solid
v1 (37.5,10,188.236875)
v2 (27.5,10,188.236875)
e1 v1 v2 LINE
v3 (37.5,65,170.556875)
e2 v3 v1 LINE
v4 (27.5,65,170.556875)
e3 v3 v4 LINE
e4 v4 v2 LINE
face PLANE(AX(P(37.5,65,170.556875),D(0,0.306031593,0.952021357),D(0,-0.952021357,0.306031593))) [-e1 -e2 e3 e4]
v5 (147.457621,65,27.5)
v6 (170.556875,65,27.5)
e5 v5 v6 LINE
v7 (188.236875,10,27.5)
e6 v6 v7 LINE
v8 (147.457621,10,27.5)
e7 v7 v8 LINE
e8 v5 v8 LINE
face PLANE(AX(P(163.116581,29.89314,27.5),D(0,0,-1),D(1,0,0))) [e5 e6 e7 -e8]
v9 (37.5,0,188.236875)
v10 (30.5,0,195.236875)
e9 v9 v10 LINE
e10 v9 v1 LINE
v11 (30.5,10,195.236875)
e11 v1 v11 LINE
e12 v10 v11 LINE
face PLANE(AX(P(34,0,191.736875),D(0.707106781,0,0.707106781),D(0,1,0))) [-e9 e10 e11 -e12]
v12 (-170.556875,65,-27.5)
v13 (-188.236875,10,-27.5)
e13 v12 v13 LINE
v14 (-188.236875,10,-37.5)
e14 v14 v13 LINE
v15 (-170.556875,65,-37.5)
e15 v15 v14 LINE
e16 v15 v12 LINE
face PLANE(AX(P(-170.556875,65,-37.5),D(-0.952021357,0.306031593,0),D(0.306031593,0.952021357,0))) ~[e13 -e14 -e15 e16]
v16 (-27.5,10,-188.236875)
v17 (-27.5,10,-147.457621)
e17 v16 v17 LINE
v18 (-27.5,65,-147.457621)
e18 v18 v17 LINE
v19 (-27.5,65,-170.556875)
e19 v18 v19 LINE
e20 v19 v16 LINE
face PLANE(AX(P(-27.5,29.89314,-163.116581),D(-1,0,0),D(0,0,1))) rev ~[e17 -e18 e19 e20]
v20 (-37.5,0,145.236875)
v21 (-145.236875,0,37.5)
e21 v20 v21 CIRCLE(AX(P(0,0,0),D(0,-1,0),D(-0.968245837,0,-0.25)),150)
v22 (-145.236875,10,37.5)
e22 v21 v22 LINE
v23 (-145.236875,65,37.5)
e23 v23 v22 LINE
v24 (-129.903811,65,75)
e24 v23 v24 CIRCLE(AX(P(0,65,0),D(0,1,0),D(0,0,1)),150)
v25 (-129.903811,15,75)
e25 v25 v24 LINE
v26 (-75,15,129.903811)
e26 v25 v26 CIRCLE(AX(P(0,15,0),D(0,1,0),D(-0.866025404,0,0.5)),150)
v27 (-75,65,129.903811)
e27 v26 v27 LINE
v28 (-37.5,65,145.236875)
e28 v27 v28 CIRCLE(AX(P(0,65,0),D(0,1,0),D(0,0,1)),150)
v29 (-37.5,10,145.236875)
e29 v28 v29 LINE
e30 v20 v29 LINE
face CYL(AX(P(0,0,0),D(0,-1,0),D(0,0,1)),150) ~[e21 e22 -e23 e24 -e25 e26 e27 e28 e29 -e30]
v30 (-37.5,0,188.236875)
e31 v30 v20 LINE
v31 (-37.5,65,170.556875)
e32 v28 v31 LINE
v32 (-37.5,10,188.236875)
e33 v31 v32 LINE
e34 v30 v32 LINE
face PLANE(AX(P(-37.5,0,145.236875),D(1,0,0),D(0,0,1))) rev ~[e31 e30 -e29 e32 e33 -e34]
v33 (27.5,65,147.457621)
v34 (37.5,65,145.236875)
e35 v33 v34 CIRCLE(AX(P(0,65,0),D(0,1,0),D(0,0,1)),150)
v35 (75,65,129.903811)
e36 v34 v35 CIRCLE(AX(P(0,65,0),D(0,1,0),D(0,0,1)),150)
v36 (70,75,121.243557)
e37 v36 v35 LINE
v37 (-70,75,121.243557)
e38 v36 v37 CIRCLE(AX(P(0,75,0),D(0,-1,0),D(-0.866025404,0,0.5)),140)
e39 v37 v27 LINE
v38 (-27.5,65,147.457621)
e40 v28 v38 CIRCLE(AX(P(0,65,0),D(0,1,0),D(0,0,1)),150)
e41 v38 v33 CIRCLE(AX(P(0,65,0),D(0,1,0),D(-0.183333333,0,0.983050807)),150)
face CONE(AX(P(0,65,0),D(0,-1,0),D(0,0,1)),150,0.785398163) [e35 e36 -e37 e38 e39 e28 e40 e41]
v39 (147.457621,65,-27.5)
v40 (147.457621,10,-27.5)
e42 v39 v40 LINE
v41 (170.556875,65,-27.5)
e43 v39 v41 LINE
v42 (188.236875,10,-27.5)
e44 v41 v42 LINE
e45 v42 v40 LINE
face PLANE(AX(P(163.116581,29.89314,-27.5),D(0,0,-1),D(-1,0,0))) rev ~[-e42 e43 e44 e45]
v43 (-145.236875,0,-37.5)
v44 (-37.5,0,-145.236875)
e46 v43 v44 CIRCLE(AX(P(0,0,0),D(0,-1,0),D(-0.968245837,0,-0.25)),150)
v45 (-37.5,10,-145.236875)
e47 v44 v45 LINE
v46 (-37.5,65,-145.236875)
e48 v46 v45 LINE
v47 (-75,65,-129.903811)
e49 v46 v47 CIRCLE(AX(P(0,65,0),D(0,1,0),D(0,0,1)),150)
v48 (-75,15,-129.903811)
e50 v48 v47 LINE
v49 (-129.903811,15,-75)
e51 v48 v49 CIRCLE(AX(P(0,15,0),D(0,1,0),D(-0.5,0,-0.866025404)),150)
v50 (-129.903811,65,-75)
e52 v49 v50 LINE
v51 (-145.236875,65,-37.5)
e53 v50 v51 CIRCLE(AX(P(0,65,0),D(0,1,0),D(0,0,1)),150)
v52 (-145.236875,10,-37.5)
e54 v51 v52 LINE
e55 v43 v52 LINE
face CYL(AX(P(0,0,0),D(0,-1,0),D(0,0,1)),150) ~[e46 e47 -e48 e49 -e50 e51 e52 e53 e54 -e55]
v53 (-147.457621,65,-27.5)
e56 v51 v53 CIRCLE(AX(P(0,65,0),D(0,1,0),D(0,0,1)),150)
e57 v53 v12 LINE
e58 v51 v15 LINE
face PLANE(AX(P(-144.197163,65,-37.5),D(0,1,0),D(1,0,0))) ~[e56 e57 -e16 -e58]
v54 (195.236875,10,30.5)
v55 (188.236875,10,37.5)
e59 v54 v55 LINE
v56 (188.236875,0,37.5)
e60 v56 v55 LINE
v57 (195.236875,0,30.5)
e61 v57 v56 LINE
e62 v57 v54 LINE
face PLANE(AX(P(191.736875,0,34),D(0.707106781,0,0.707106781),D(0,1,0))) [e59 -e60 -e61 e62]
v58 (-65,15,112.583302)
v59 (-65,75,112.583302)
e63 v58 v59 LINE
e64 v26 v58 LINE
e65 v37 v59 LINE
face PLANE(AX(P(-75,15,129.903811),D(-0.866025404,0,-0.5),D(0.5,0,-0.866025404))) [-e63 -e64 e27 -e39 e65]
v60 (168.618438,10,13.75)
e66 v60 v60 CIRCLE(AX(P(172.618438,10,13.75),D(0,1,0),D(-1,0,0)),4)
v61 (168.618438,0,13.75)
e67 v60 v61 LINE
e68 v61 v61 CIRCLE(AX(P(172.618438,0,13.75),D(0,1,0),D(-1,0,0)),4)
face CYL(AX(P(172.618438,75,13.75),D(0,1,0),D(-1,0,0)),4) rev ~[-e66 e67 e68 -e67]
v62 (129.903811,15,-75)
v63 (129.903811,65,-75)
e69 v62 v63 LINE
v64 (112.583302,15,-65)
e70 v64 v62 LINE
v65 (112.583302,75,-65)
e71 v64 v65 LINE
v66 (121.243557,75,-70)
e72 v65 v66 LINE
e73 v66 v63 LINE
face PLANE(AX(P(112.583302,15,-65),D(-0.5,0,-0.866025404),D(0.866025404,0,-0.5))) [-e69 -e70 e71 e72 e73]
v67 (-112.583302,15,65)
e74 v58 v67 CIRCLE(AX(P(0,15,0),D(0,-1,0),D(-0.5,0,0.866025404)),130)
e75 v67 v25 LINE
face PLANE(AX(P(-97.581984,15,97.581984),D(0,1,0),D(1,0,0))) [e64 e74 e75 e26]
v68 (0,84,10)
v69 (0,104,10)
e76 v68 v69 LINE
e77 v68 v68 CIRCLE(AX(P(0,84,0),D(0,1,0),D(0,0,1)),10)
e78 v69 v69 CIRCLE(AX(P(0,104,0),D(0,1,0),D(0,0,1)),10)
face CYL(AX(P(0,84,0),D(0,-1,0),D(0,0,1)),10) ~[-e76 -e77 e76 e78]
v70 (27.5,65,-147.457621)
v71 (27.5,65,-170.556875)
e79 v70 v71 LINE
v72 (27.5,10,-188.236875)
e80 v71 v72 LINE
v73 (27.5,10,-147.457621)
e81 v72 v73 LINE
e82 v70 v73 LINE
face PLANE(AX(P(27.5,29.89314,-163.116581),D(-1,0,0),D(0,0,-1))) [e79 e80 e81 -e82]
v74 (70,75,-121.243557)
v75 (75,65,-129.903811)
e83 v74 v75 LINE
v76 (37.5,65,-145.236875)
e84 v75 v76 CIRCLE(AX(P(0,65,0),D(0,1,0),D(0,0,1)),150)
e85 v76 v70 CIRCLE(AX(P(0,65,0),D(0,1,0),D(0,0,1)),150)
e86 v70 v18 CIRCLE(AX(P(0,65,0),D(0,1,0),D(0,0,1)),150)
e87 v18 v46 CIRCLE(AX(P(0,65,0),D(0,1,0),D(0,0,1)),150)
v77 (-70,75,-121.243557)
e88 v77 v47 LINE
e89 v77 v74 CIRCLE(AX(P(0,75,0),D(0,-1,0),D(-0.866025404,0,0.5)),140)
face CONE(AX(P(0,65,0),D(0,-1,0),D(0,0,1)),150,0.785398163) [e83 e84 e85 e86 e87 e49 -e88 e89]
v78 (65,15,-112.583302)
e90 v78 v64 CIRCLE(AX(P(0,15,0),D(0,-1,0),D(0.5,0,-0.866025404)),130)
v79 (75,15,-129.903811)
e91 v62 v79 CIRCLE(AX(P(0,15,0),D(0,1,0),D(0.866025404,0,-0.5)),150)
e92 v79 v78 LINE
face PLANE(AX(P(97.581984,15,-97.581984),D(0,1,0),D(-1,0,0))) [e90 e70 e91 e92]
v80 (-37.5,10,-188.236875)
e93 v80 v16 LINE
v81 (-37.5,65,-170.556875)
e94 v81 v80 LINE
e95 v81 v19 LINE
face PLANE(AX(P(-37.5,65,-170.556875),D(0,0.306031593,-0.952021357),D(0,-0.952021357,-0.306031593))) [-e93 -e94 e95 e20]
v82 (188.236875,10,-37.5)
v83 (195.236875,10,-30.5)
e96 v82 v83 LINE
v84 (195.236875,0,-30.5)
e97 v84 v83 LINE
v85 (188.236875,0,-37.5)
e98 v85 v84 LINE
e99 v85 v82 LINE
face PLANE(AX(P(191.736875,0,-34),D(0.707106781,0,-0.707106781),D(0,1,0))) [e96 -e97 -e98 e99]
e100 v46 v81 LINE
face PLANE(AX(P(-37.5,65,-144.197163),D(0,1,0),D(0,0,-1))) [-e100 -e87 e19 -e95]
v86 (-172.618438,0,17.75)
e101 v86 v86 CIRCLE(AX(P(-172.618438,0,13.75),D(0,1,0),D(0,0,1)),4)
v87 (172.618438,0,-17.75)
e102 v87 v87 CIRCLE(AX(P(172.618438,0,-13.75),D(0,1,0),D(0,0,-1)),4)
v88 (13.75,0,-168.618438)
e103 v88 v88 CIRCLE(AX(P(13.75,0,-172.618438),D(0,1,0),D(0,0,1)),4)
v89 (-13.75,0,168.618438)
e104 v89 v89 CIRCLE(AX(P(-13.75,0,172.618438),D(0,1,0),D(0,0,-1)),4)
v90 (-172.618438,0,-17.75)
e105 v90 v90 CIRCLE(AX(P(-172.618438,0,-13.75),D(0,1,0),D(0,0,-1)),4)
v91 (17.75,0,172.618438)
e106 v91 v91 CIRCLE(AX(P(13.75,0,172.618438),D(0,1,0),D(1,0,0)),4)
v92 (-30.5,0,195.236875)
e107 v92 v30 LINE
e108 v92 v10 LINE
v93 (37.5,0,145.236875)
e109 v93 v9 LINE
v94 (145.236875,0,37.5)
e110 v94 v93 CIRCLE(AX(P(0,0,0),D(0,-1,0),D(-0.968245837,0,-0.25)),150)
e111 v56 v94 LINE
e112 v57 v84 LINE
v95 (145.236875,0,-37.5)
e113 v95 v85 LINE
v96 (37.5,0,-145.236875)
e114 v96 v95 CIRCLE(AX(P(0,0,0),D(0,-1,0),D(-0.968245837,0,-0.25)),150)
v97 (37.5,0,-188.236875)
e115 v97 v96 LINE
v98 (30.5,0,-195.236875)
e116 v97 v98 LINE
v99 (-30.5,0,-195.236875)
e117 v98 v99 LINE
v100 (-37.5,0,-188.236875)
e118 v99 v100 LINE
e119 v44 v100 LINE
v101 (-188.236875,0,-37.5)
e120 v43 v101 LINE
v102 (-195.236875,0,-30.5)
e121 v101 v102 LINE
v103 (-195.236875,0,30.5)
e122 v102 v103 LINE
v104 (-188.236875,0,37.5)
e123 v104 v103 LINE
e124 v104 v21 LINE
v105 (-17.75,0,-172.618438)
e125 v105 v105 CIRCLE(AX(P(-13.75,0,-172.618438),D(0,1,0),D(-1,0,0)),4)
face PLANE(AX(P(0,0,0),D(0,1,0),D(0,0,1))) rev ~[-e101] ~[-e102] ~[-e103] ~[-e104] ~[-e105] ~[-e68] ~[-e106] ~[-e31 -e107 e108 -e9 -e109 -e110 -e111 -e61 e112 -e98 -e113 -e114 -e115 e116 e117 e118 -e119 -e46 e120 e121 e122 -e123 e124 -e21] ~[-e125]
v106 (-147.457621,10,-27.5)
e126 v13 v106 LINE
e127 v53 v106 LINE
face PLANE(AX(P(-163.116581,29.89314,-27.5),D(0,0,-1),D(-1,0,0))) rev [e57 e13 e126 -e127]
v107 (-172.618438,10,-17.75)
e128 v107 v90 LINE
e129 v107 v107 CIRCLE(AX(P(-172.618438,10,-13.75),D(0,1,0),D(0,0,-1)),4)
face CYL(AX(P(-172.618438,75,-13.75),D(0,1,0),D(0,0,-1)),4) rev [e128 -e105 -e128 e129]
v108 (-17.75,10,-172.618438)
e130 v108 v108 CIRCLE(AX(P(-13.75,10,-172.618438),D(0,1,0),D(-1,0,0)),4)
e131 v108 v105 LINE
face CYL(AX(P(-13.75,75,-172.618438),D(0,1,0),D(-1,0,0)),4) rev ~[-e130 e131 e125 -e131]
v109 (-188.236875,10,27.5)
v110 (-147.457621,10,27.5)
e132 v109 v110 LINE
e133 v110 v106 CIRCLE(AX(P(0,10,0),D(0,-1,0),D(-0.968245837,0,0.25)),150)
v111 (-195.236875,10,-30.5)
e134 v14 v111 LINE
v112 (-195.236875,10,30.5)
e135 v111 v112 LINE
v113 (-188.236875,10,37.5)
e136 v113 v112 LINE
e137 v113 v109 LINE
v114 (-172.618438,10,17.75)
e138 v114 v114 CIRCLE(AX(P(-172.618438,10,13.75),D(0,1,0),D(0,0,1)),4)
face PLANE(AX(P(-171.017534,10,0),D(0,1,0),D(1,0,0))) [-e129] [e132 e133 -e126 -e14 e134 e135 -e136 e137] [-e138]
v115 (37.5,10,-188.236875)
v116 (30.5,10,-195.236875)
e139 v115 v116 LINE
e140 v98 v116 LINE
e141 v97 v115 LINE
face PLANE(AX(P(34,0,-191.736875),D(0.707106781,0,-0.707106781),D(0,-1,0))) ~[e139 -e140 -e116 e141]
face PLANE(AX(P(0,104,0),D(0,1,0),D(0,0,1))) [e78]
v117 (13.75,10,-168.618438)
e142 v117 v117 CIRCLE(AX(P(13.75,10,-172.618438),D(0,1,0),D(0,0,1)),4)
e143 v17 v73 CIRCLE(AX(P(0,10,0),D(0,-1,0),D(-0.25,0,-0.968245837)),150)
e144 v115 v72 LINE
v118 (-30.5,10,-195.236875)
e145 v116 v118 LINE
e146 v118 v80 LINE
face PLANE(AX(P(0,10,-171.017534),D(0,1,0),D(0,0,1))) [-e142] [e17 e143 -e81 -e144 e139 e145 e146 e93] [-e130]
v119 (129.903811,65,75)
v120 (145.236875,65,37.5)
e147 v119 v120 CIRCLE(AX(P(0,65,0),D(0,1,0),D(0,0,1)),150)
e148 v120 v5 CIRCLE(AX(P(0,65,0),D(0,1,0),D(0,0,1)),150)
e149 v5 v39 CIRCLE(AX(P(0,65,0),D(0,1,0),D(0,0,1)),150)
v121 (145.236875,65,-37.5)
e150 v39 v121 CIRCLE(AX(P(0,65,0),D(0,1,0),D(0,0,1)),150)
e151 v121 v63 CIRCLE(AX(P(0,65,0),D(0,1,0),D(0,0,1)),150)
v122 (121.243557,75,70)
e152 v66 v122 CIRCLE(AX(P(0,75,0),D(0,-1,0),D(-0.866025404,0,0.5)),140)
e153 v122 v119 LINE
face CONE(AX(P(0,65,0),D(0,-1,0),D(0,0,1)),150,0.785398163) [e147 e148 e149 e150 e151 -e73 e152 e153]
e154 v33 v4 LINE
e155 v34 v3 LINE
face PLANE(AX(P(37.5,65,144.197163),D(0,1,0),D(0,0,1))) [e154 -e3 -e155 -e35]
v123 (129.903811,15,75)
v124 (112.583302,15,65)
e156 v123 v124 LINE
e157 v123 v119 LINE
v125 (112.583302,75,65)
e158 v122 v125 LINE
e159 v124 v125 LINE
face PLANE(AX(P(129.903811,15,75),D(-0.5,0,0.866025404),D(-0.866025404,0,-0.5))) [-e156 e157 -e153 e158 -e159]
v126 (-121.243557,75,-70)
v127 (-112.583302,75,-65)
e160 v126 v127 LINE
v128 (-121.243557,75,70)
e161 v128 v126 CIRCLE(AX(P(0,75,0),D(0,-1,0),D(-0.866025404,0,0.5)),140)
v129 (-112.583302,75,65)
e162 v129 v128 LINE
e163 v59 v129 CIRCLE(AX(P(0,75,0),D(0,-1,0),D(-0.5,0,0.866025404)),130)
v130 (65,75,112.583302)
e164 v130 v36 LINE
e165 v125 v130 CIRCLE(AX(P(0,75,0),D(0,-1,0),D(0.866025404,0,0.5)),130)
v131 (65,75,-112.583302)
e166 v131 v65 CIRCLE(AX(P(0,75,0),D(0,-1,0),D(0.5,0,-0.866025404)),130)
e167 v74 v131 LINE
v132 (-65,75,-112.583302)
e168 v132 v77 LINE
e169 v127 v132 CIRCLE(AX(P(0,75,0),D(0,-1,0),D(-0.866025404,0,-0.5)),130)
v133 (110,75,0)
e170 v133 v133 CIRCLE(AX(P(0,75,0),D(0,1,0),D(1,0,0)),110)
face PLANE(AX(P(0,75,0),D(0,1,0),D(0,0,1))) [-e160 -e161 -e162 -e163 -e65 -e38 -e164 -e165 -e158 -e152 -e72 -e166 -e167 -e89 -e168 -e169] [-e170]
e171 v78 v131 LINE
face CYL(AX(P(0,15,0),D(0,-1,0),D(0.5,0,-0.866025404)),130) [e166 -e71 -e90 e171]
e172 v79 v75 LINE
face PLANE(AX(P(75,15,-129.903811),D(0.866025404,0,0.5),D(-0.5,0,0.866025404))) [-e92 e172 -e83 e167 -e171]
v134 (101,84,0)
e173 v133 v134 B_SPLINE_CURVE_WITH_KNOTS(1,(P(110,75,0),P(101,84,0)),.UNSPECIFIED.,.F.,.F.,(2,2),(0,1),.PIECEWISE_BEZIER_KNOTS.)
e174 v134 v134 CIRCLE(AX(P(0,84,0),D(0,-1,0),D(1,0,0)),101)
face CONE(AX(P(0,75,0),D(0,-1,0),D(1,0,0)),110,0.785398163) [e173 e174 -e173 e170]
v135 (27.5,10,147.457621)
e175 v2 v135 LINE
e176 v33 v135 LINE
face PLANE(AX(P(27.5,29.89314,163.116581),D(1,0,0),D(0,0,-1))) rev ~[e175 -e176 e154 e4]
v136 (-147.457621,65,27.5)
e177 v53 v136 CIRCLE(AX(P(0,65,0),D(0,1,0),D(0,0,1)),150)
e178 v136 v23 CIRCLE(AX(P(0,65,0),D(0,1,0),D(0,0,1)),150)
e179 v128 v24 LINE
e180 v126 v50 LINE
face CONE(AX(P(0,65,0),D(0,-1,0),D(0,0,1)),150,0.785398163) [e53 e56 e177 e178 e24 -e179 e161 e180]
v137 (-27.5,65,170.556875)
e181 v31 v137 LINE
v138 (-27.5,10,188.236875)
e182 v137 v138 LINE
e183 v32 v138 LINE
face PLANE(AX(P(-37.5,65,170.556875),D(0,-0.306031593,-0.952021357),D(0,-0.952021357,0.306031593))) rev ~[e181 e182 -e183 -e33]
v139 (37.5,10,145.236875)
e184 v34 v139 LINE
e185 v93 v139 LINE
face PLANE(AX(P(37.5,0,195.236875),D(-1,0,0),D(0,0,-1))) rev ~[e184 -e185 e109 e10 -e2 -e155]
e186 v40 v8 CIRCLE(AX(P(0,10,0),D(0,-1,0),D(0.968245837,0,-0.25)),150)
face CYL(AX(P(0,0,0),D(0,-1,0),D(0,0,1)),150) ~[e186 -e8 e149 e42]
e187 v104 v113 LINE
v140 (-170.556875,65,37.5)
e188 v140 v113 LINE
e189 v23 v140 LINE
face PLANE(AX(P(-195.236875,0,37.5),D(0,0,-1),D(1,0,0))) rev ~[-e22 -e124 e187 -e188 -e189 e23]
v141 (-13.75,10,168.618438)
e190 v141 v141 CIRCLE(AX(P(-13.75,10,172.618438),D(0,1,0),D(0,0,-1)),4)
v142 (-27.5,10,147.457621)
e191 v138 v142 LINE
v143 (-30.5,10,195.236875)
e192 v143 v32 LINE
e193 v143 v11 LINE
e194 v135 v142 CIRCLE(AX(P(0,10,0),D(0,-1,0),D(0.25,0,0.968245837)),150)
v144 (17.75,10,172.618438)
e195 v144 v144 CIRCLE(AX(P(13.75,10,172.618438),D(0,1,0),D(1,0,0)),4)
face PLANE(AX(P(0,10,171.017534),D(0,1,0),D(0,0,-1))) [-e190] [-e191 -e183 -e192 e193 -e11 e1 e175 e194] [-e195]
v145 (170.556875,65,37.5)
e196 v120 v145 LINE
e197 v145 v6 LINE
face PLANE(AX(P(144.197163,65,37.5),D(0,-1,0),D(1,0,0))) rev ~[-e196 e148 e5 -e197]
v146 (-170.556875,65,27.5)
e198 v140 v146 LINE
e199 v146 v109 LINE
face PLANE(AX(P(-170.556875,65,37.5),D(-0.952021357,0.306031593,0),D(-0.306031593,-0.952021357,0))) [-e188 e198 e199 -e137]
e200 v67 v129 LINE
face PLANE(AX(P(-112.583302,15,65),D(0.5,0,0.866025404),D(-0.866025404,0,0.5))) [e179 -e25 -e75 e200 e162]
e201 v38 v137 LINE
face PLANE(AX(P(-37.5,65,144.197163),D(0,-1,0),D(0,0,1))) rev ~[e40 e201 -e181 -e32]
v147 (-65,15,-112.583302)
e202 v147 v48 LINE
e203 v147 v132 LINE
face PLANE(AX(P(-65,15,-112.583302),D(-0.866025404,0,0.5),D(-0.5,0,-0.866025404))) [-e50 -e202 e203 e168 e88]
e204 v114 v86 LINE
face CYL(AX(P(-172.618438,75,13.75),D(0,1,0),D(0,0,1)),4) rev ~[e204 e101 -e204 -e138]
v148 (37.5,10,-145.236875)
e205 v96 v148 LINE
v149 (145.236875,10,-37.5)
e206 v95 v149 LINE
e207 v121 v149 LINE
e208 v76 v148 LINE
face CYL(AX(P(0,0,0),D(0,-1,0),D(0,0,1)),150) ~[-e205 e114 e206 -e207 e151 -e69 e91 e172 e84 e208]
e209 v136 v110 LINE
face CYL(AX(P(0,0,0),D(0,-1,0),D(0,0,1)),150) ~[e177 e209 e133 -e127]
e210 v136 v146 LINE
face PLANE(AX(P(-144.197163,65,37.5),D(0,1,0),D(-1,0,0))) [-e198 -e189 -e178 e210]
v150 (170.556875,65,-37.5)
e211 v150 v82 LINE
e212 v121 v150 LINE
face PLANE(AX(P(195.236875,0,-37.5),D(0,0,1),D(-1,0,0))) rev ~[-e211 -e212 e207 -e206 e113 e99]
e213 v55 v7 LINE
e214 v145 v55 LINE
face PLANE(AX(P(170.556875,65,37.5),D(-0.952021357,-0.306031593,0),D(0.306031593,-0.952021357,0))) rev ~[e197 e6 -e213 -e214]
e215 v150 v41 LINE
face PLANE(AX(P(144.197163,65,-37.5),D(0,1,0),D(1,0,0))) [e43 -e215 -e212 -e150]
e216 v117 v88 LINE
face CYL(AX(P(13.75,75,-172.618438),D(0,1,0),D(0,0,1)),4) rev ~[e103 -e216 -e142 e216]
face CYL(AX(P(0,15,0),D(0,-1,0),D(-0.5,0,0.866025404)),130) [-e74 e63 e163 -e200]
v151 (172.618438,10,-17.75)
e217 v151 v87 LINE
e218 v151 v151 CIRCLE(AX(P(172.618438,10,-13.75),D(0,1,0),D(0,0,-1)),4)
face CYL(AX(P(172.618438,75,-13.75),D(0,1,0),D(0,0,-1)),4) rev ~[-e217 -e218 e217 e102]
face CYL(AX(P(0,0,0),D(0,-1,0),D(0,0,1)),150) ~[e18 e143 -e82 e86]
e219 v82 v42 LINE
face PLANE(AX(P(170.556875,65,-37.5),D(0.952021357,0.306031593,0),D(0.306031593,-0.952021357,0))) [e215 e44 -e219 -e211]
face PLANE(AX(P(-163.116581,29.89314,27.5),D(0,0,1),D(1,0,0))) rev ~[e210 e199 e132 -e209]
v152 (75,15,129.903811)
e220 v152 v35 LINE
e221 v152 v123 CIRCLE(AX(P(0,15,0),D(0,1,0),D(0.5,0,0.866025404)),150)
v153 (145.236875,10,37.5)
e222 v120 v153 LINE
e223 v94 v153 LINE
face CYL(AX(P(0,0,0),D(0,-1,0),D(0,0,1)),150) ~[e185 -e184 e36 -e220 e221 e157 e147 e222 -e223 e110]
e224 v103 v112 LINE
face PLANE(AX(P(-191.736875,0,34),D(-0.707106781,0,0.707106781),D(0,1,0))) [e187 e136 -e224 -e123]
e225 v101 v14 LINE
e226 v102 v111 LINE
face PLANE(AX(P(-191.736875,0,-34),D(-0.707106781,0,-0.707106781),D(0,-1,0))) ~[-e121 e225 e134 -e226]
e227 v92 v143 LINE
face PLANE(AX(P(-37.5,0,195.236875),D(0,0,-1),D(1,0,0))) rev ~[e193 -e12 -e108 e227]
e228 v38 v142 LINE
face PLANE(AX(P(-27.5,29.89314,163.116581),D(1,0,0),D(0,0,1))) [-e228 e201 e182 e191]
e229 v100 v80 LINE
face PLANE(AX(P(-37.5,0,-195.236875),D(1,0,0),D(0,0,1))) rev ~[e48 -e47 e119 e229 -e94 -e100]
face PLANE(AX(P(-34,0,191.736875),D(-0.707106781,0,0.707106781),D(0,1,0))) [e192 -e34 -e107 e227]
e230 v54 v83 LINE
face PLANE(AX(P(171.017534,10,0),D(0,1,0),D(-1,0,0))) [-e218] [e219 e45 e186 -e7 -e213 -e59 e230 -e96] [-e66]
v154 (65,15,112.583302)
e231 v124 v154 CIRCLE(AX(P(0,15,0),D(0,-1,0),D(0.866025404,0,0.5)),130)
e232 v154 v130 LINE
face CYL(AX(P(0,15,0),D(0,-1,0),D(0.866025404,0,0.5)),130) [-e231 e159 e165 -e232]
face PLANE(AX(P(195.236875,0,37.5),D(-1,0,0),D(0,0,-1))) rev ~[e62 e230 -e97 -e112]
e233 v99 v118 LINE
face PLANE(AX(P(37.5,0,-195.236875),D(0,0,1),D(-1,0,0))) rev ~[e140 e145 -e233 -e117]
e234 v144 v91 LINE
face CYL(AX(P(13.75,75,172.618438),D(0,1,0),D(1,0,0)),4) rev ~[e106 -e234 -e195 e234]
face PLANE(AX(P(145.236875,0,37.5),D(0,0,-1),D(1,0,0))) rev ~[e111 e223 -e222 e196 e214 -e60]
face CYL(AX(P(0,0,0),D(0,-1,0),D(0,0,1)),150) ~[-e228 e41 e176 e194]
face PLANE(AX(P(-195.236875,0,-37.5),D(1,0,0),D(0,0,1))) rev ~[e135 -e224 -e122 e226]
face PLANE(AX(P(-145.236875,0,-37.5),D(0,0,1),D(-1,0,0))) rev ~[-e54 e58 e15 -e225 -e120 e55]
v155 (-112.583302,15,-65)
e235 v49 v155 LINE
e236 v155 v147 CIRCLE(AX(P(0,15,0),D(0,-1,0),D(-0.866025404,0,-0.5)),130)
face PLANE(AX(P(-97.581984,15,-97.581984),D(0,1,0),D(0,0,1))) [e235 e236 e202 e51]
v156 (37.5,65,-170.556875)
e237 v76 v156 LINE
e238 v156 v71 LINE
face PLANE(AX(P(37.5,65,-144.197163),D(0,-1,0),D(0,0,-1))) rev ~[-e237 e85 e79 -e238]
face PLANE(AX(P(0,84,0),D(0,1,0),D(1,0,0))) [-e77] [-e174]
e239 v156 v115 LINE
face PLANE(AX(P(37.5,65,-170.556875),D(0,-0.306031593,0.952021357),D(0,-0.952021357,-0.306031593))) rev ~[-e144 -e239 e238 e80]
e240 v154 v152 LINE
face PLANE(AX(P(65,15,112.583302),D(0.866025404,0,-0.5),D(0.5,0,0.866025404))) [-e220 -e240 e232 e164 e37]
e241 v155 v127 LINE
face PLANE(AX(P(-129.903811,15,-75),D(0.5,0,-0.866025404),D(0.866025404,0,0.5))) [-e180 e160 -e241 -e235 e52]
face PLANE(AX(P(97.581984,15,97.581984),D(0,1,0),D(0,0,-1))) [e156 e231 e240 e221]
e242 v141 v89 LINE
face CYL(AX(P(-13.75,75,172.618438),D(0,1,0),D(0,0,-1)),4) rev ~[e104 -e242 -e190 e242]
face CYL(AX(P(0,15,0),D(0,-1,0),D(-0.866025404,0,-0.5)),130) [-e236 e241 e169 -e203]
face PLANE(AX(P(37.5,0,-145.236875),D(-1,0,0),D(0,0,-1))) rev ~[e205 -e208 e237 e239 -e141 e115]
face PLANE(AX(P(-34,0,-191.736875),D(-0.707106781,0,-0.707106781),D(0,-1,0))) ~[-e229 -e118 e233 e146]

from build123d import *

# Parameters (mm, degrees)
SKETCH1_R                    = 150
BOSS_EXTRUDE1_DEPTH          = 75
CHAMFER1_SIZE                = 10
BOSS_EXTRUDE3_START          = -75
BOSS_EXTRUDE3_DEPTH          = 10
CHAMFER2_SIZE                = 7
BOSS_EXTRUDE4_DEPTH          = 10
SKETCH4_R                    = 4
CUT_EXTRUDE1_DEPTH           = 258.376062501
CIRPATTERN1_COUNT            = 4
CIRPATTERN1_COPY_1_DEPTH     = 10
CIRPATTERN1_COPY_2_DEPTH     = 10
CIRPATTERN1_COPY_3_DEPTH     = 10
CIRPATTERN1_COPY_4_SKETCH_R  = 4
CIRPATTERN1_COPY_4_DEPTH     = 258.376062501
CIRPATTERN1_COPY_5_SKETCH_R  = 4
CIRPATTERN1_COPY_5_DEPTH     = 258.376062501
CIRPATTERN1_COPY_6_SKETCH_R  = 4
CIRPATTERN1_COPY_6_DEPTH     = 258.376062501
CHAMFER2_OF_CIRPATTERN1_SIZE = 7
CUT_EXTRUDE2_START           = -60
CUT_EXTRUDE2_DEPTH           = 60
CIRPATTERN2_COUNT            = 4
SKETCH7_R                    = 110
BOSS_EXTRUDE5_DEPTH          = 9
BOSS_EXTRUDE5_TAPER          = 45
SKETCH8_R                    = 10
BOSS_EXTRUDE6_DEPTH          = 20


with BuildPart() as part:
    # Sketch1 → Boss-Extrude1 (new body)
    with BuildSketch(Plane(origin=(0, 0, 0), x_dir=(1, 0, 0), z_dir=(0, 1, 0))):
        with Locations(Location((0, 0, 0), (0, 0, 270))):
            Circle(SKETCH1_R)
    extrude(amount=BOSS_EXTRUDE1_DEPTH)

    # Chamfer1
    chamfer1_edges = [part.edges().sort_by_distance(p)[0] for p in [
        (0, 75, -150),
    ]]
    chamfer(chamfer1_edges, length=CHAMFER1_SIZE)

    # Sketch2 → Boss-Extrude3 (add)
    with BuildSketch(Plane(origin=(0, 75, 0), x_dir=(1, 0, 0), z_dir=(0, 1, 0)).offset(BOSS_EXTRUDE3_START)):
        with BuildLine():
            Line((-195.236875483, 37.5), (-195.236875483, -37.5))
            Line((-195.236875483, -37.5), (-145.236875483, -37.5))
            ThreePointArc((-145.236875483, -37.5), (-150, 0), (-145.236875483, 37.5))
            Line((-145.236875483, 37.5), (-195.236875483, 37.5))
        make_face()
    boss_extrude3 = extrude(amount=BOSS_EXTRUDE3_DEPTH)

    # Chamfer2
    chamfer2_edges = [part.edges().sort_by_distance(p)[0] for p in [
        (-195.236875483, 5, -37.5),
        (-195.236875483, 5, 37.5),
    ]]
    chamfer(chamfer2_edges, length=CHAMFER2_SIZE)

    # Sketch3 → Boss-Extrude4 (add)
    with BuildSketch(Plane.XY.offset(37.5)):
        Polygon((-144.19716267, 65), (-170.556875483, 65), (-188.236875483, 10), (-188.236875483, 0), (-145.236875483, 0), align=None)
    boss_extrude4 = extrude(amount=-BOSS_EXTRUDE4_DEPTH)

    # Sketch4 → Cut-Extrude1 (cut, through all)
    with BuildSketch(Plane(origin=(0, 75, 0), x_dir=(1, 0, 0), z_dir=(0, 1, 0))):
        with Locations(Location((-172.618437741, -13.75, 0), (0, 0, 270))):
            Circle(SKETCH4_R)
    cut_extrude1 = extrude(amount=-CUT_EXTRUDE1_DEPTH, mode=Mode.SUBTRACT)

    # Mirror3: Boss-Extrude4, Cut-Extrude1 across plane
    add(boss_extrude4.mirror(Plane.XY))
    add(cut_extrude1.mirror(Plane.XY), mode=Mode.SUBTRACT)

    # CirPattern1: Boss-Extrude3, Boss-Extrude4, Cut-Extrude1 ×4 about axis
    cirpattern1_axis = Axis((0, 0, 0), (0, 1, 0))
    add([boss_extrude3.rotate(cirpattern1_axis, i * 360 / CIRPATTERN1_COUNT) for i in range(1, CIRPATTERN1_COUNT)])
    add([boss_extrude4.rotate(cirpattern1_axis, i * 360 / CIRPATTERN1_COUNT) for i in range(1, CIRPATTERN1_COUNT)])
    add([cut_extrude1.rotate(cirpattern1_axis, i * 360 / CIRPATTERN1_COUNT) for i in range(1, CIRPATTERN1_COUNT)], mode=Mode.SUBTRACT)

    # CirPattern1 copy 1 sketch → CirPattern1 copy 1 (add)
    with BuildSketch(Plane(origin=(-37.5, 0, 0), x_dir=(0, 0, -1), z_dir=(-1, 0, 0))):
        Polygon((-144.19716267, -65), (-170.556875483, -65), (-188.236875483, -10), (-188.236875483, 0), (-145.236875483, 0), align=None)
    extrude(amount=-CIRPATTERN1_COPY_1_DEPTH)

    # CirPattern1 copy 2 sketch → CirPattern1 copy 2 (add)
    with BuildSketch(Plane(origin=(0, 0, 37.5), x_dir=(-1, 0, 0), z_dir=(0, 0, 1))):
        Polygon((-144.19716267, -65), (-170.556875483, -65), (-188.236875483, -10), (-188.236875483, 0), (-145.236875483, 0), align=None)
    extrude(amount=-CIRPATTERN1_COPY_2_DEPTH)

    # CirPattern1 copy 3 sketch → CirPattern1 copy 3 (add)
    with BuildSketch(Plane(origin=(37.5, 0, 0), x_dir=(0, 0, 1), z_dir=(1, 0, 0))):
        Polygon((-144.19716267, -65), (-170.556875483, -65), (-188.236875483, -10), (-188.236875483, 0), (-145.236875483, 0), align=None)
    extrude(amount=-CIRPATTERN1_COPY_3_DEPTH)

    # CirPattern1 copy 4 sketch → CirPattern1 copy 4 (cut, through all)
    with BuildSketch(Plane(origin=(0, 75, 0), x_dir=(0, 0, -1), z_dir=(0, 1, 0))):
        with Locations((-172.618437741, 13.75)):
            Circle(CIRPATTERN1_COPY_4_SKETCH_R)
    extrude(amount=-CIRPATTERN1_COPY_4_DEPTH, mode=Mode.SUBTRACT)

    # CirPattern1 copy 5 sketch → CirPattern1 copy 5 (cut, through all)
    with BuildSketch(Plane(origin=(0, 75, 0), x_dir=(-1, 0, 0), z_dir=(0, 1, 0))):
        with Locations((-172.618437741, 13.75)):
            Circle(CIRPATTERN1_COPY_5_SKETCH_R)
    extrude(amount=-CIRPATTERN1_COPY_5_DEPTH, mode=Mode.SUBTRACT)

    # CirPattern1 copy 6 sketch → CirPattern1 copy 6 (cut, through all)
    with BuildSketch(Plane.ZX.offset(75)):
        with Locations((-172.618437741, 13.75)):
            Circle(CIRPATTERN1_COPY_6_SKETCH_R)
    extrude(amount=-CIRPATTERN1_COPY_6_DEPTH, mode=Mode.SUBTRACT)

    # Chamfer2 of CirPattern1
    chamfer2_of_cirpattern1_edges = [part.edges().sort_by_distance(p)[0] for p in [
        (-37.5, 5, 195.236875483),
        (37.5, 5, 195.236875483),
        (195.236875483, 5, 37.5),
        (195.236875483, 5, -37.5),
        (37.5, 5, -195.236875483),
        (-37.5, 5, -195.236875483),
    ]]
    chamfer(chamfer2_of_cirpattern1_edges, length=CHAMFER2_OF_CIRPATTERN1_SIZE)

    # Sketch6 → Cut-Extrude2 (cut)
    with BuildSketch(Plane(origin=(0, 75, 0), x_dir=(1, 0, 0), z_dir=(0, 1, 0)).offset(CUT_EXTRUDE2_START)):
        with BuildLine():
            Line((-112.583302492, -65), (-129.903810568, -75))
            ThreePointArc((-129.903810568, -75), (-106.066017178, -106.066017178), (-75, -129.903810568))
            Line((-75, -129.903810568), (-65, -112.583302492))
            ThreePointArc((-65, -112.583302492), (-91.923881554, -91.923881554), (-112.583302492, -65))
        make_face()
    cut_extrude2 = extrude(amount=CUT_EXTRUDE2_DEPTH, mode=Mode.SUBTRACT)

    # CirPattern2: Cut-Extrude2 ×4 about axis
    cirpattern2_axis = Axis((0, 75, 0), (0, 1, 0))
    for i in range(1, CIRPATTERN2_COUNT):
        add(cut_extrude2.rotate(cirpattern2_axis, i * 360 / CIRPATTERN2_COUNT), mode=Mode.SUBTRACT)

    # Sketch7 → Boss-Extrude5 (add)
    with BuildSketch(Plane(origin=(0, 75, 0), x_dir=(1, 0, 0), z_dir=(0, 1, 0))):
        Circle(SKETCH7_R)
    extrude(amount=BOSS_EXTRUDE5_DEPTH, taper=BOSS_EXTRUDE5_TAPER)

    # Sketch8 → Boss-Extrude6 (add)
    with BuildSketch(Plane(origin=(0, 84, 0), x_dir=(1, 0, 0), z_dir=(0, 1, 0))):
        with Locations(Location((0, 0, 0), (0, 0, 270))):
            Circle(SKETCH8_R)
    extrude(amount=BOSS_EXTRUDE6_DEPTH)


solid = part.part
